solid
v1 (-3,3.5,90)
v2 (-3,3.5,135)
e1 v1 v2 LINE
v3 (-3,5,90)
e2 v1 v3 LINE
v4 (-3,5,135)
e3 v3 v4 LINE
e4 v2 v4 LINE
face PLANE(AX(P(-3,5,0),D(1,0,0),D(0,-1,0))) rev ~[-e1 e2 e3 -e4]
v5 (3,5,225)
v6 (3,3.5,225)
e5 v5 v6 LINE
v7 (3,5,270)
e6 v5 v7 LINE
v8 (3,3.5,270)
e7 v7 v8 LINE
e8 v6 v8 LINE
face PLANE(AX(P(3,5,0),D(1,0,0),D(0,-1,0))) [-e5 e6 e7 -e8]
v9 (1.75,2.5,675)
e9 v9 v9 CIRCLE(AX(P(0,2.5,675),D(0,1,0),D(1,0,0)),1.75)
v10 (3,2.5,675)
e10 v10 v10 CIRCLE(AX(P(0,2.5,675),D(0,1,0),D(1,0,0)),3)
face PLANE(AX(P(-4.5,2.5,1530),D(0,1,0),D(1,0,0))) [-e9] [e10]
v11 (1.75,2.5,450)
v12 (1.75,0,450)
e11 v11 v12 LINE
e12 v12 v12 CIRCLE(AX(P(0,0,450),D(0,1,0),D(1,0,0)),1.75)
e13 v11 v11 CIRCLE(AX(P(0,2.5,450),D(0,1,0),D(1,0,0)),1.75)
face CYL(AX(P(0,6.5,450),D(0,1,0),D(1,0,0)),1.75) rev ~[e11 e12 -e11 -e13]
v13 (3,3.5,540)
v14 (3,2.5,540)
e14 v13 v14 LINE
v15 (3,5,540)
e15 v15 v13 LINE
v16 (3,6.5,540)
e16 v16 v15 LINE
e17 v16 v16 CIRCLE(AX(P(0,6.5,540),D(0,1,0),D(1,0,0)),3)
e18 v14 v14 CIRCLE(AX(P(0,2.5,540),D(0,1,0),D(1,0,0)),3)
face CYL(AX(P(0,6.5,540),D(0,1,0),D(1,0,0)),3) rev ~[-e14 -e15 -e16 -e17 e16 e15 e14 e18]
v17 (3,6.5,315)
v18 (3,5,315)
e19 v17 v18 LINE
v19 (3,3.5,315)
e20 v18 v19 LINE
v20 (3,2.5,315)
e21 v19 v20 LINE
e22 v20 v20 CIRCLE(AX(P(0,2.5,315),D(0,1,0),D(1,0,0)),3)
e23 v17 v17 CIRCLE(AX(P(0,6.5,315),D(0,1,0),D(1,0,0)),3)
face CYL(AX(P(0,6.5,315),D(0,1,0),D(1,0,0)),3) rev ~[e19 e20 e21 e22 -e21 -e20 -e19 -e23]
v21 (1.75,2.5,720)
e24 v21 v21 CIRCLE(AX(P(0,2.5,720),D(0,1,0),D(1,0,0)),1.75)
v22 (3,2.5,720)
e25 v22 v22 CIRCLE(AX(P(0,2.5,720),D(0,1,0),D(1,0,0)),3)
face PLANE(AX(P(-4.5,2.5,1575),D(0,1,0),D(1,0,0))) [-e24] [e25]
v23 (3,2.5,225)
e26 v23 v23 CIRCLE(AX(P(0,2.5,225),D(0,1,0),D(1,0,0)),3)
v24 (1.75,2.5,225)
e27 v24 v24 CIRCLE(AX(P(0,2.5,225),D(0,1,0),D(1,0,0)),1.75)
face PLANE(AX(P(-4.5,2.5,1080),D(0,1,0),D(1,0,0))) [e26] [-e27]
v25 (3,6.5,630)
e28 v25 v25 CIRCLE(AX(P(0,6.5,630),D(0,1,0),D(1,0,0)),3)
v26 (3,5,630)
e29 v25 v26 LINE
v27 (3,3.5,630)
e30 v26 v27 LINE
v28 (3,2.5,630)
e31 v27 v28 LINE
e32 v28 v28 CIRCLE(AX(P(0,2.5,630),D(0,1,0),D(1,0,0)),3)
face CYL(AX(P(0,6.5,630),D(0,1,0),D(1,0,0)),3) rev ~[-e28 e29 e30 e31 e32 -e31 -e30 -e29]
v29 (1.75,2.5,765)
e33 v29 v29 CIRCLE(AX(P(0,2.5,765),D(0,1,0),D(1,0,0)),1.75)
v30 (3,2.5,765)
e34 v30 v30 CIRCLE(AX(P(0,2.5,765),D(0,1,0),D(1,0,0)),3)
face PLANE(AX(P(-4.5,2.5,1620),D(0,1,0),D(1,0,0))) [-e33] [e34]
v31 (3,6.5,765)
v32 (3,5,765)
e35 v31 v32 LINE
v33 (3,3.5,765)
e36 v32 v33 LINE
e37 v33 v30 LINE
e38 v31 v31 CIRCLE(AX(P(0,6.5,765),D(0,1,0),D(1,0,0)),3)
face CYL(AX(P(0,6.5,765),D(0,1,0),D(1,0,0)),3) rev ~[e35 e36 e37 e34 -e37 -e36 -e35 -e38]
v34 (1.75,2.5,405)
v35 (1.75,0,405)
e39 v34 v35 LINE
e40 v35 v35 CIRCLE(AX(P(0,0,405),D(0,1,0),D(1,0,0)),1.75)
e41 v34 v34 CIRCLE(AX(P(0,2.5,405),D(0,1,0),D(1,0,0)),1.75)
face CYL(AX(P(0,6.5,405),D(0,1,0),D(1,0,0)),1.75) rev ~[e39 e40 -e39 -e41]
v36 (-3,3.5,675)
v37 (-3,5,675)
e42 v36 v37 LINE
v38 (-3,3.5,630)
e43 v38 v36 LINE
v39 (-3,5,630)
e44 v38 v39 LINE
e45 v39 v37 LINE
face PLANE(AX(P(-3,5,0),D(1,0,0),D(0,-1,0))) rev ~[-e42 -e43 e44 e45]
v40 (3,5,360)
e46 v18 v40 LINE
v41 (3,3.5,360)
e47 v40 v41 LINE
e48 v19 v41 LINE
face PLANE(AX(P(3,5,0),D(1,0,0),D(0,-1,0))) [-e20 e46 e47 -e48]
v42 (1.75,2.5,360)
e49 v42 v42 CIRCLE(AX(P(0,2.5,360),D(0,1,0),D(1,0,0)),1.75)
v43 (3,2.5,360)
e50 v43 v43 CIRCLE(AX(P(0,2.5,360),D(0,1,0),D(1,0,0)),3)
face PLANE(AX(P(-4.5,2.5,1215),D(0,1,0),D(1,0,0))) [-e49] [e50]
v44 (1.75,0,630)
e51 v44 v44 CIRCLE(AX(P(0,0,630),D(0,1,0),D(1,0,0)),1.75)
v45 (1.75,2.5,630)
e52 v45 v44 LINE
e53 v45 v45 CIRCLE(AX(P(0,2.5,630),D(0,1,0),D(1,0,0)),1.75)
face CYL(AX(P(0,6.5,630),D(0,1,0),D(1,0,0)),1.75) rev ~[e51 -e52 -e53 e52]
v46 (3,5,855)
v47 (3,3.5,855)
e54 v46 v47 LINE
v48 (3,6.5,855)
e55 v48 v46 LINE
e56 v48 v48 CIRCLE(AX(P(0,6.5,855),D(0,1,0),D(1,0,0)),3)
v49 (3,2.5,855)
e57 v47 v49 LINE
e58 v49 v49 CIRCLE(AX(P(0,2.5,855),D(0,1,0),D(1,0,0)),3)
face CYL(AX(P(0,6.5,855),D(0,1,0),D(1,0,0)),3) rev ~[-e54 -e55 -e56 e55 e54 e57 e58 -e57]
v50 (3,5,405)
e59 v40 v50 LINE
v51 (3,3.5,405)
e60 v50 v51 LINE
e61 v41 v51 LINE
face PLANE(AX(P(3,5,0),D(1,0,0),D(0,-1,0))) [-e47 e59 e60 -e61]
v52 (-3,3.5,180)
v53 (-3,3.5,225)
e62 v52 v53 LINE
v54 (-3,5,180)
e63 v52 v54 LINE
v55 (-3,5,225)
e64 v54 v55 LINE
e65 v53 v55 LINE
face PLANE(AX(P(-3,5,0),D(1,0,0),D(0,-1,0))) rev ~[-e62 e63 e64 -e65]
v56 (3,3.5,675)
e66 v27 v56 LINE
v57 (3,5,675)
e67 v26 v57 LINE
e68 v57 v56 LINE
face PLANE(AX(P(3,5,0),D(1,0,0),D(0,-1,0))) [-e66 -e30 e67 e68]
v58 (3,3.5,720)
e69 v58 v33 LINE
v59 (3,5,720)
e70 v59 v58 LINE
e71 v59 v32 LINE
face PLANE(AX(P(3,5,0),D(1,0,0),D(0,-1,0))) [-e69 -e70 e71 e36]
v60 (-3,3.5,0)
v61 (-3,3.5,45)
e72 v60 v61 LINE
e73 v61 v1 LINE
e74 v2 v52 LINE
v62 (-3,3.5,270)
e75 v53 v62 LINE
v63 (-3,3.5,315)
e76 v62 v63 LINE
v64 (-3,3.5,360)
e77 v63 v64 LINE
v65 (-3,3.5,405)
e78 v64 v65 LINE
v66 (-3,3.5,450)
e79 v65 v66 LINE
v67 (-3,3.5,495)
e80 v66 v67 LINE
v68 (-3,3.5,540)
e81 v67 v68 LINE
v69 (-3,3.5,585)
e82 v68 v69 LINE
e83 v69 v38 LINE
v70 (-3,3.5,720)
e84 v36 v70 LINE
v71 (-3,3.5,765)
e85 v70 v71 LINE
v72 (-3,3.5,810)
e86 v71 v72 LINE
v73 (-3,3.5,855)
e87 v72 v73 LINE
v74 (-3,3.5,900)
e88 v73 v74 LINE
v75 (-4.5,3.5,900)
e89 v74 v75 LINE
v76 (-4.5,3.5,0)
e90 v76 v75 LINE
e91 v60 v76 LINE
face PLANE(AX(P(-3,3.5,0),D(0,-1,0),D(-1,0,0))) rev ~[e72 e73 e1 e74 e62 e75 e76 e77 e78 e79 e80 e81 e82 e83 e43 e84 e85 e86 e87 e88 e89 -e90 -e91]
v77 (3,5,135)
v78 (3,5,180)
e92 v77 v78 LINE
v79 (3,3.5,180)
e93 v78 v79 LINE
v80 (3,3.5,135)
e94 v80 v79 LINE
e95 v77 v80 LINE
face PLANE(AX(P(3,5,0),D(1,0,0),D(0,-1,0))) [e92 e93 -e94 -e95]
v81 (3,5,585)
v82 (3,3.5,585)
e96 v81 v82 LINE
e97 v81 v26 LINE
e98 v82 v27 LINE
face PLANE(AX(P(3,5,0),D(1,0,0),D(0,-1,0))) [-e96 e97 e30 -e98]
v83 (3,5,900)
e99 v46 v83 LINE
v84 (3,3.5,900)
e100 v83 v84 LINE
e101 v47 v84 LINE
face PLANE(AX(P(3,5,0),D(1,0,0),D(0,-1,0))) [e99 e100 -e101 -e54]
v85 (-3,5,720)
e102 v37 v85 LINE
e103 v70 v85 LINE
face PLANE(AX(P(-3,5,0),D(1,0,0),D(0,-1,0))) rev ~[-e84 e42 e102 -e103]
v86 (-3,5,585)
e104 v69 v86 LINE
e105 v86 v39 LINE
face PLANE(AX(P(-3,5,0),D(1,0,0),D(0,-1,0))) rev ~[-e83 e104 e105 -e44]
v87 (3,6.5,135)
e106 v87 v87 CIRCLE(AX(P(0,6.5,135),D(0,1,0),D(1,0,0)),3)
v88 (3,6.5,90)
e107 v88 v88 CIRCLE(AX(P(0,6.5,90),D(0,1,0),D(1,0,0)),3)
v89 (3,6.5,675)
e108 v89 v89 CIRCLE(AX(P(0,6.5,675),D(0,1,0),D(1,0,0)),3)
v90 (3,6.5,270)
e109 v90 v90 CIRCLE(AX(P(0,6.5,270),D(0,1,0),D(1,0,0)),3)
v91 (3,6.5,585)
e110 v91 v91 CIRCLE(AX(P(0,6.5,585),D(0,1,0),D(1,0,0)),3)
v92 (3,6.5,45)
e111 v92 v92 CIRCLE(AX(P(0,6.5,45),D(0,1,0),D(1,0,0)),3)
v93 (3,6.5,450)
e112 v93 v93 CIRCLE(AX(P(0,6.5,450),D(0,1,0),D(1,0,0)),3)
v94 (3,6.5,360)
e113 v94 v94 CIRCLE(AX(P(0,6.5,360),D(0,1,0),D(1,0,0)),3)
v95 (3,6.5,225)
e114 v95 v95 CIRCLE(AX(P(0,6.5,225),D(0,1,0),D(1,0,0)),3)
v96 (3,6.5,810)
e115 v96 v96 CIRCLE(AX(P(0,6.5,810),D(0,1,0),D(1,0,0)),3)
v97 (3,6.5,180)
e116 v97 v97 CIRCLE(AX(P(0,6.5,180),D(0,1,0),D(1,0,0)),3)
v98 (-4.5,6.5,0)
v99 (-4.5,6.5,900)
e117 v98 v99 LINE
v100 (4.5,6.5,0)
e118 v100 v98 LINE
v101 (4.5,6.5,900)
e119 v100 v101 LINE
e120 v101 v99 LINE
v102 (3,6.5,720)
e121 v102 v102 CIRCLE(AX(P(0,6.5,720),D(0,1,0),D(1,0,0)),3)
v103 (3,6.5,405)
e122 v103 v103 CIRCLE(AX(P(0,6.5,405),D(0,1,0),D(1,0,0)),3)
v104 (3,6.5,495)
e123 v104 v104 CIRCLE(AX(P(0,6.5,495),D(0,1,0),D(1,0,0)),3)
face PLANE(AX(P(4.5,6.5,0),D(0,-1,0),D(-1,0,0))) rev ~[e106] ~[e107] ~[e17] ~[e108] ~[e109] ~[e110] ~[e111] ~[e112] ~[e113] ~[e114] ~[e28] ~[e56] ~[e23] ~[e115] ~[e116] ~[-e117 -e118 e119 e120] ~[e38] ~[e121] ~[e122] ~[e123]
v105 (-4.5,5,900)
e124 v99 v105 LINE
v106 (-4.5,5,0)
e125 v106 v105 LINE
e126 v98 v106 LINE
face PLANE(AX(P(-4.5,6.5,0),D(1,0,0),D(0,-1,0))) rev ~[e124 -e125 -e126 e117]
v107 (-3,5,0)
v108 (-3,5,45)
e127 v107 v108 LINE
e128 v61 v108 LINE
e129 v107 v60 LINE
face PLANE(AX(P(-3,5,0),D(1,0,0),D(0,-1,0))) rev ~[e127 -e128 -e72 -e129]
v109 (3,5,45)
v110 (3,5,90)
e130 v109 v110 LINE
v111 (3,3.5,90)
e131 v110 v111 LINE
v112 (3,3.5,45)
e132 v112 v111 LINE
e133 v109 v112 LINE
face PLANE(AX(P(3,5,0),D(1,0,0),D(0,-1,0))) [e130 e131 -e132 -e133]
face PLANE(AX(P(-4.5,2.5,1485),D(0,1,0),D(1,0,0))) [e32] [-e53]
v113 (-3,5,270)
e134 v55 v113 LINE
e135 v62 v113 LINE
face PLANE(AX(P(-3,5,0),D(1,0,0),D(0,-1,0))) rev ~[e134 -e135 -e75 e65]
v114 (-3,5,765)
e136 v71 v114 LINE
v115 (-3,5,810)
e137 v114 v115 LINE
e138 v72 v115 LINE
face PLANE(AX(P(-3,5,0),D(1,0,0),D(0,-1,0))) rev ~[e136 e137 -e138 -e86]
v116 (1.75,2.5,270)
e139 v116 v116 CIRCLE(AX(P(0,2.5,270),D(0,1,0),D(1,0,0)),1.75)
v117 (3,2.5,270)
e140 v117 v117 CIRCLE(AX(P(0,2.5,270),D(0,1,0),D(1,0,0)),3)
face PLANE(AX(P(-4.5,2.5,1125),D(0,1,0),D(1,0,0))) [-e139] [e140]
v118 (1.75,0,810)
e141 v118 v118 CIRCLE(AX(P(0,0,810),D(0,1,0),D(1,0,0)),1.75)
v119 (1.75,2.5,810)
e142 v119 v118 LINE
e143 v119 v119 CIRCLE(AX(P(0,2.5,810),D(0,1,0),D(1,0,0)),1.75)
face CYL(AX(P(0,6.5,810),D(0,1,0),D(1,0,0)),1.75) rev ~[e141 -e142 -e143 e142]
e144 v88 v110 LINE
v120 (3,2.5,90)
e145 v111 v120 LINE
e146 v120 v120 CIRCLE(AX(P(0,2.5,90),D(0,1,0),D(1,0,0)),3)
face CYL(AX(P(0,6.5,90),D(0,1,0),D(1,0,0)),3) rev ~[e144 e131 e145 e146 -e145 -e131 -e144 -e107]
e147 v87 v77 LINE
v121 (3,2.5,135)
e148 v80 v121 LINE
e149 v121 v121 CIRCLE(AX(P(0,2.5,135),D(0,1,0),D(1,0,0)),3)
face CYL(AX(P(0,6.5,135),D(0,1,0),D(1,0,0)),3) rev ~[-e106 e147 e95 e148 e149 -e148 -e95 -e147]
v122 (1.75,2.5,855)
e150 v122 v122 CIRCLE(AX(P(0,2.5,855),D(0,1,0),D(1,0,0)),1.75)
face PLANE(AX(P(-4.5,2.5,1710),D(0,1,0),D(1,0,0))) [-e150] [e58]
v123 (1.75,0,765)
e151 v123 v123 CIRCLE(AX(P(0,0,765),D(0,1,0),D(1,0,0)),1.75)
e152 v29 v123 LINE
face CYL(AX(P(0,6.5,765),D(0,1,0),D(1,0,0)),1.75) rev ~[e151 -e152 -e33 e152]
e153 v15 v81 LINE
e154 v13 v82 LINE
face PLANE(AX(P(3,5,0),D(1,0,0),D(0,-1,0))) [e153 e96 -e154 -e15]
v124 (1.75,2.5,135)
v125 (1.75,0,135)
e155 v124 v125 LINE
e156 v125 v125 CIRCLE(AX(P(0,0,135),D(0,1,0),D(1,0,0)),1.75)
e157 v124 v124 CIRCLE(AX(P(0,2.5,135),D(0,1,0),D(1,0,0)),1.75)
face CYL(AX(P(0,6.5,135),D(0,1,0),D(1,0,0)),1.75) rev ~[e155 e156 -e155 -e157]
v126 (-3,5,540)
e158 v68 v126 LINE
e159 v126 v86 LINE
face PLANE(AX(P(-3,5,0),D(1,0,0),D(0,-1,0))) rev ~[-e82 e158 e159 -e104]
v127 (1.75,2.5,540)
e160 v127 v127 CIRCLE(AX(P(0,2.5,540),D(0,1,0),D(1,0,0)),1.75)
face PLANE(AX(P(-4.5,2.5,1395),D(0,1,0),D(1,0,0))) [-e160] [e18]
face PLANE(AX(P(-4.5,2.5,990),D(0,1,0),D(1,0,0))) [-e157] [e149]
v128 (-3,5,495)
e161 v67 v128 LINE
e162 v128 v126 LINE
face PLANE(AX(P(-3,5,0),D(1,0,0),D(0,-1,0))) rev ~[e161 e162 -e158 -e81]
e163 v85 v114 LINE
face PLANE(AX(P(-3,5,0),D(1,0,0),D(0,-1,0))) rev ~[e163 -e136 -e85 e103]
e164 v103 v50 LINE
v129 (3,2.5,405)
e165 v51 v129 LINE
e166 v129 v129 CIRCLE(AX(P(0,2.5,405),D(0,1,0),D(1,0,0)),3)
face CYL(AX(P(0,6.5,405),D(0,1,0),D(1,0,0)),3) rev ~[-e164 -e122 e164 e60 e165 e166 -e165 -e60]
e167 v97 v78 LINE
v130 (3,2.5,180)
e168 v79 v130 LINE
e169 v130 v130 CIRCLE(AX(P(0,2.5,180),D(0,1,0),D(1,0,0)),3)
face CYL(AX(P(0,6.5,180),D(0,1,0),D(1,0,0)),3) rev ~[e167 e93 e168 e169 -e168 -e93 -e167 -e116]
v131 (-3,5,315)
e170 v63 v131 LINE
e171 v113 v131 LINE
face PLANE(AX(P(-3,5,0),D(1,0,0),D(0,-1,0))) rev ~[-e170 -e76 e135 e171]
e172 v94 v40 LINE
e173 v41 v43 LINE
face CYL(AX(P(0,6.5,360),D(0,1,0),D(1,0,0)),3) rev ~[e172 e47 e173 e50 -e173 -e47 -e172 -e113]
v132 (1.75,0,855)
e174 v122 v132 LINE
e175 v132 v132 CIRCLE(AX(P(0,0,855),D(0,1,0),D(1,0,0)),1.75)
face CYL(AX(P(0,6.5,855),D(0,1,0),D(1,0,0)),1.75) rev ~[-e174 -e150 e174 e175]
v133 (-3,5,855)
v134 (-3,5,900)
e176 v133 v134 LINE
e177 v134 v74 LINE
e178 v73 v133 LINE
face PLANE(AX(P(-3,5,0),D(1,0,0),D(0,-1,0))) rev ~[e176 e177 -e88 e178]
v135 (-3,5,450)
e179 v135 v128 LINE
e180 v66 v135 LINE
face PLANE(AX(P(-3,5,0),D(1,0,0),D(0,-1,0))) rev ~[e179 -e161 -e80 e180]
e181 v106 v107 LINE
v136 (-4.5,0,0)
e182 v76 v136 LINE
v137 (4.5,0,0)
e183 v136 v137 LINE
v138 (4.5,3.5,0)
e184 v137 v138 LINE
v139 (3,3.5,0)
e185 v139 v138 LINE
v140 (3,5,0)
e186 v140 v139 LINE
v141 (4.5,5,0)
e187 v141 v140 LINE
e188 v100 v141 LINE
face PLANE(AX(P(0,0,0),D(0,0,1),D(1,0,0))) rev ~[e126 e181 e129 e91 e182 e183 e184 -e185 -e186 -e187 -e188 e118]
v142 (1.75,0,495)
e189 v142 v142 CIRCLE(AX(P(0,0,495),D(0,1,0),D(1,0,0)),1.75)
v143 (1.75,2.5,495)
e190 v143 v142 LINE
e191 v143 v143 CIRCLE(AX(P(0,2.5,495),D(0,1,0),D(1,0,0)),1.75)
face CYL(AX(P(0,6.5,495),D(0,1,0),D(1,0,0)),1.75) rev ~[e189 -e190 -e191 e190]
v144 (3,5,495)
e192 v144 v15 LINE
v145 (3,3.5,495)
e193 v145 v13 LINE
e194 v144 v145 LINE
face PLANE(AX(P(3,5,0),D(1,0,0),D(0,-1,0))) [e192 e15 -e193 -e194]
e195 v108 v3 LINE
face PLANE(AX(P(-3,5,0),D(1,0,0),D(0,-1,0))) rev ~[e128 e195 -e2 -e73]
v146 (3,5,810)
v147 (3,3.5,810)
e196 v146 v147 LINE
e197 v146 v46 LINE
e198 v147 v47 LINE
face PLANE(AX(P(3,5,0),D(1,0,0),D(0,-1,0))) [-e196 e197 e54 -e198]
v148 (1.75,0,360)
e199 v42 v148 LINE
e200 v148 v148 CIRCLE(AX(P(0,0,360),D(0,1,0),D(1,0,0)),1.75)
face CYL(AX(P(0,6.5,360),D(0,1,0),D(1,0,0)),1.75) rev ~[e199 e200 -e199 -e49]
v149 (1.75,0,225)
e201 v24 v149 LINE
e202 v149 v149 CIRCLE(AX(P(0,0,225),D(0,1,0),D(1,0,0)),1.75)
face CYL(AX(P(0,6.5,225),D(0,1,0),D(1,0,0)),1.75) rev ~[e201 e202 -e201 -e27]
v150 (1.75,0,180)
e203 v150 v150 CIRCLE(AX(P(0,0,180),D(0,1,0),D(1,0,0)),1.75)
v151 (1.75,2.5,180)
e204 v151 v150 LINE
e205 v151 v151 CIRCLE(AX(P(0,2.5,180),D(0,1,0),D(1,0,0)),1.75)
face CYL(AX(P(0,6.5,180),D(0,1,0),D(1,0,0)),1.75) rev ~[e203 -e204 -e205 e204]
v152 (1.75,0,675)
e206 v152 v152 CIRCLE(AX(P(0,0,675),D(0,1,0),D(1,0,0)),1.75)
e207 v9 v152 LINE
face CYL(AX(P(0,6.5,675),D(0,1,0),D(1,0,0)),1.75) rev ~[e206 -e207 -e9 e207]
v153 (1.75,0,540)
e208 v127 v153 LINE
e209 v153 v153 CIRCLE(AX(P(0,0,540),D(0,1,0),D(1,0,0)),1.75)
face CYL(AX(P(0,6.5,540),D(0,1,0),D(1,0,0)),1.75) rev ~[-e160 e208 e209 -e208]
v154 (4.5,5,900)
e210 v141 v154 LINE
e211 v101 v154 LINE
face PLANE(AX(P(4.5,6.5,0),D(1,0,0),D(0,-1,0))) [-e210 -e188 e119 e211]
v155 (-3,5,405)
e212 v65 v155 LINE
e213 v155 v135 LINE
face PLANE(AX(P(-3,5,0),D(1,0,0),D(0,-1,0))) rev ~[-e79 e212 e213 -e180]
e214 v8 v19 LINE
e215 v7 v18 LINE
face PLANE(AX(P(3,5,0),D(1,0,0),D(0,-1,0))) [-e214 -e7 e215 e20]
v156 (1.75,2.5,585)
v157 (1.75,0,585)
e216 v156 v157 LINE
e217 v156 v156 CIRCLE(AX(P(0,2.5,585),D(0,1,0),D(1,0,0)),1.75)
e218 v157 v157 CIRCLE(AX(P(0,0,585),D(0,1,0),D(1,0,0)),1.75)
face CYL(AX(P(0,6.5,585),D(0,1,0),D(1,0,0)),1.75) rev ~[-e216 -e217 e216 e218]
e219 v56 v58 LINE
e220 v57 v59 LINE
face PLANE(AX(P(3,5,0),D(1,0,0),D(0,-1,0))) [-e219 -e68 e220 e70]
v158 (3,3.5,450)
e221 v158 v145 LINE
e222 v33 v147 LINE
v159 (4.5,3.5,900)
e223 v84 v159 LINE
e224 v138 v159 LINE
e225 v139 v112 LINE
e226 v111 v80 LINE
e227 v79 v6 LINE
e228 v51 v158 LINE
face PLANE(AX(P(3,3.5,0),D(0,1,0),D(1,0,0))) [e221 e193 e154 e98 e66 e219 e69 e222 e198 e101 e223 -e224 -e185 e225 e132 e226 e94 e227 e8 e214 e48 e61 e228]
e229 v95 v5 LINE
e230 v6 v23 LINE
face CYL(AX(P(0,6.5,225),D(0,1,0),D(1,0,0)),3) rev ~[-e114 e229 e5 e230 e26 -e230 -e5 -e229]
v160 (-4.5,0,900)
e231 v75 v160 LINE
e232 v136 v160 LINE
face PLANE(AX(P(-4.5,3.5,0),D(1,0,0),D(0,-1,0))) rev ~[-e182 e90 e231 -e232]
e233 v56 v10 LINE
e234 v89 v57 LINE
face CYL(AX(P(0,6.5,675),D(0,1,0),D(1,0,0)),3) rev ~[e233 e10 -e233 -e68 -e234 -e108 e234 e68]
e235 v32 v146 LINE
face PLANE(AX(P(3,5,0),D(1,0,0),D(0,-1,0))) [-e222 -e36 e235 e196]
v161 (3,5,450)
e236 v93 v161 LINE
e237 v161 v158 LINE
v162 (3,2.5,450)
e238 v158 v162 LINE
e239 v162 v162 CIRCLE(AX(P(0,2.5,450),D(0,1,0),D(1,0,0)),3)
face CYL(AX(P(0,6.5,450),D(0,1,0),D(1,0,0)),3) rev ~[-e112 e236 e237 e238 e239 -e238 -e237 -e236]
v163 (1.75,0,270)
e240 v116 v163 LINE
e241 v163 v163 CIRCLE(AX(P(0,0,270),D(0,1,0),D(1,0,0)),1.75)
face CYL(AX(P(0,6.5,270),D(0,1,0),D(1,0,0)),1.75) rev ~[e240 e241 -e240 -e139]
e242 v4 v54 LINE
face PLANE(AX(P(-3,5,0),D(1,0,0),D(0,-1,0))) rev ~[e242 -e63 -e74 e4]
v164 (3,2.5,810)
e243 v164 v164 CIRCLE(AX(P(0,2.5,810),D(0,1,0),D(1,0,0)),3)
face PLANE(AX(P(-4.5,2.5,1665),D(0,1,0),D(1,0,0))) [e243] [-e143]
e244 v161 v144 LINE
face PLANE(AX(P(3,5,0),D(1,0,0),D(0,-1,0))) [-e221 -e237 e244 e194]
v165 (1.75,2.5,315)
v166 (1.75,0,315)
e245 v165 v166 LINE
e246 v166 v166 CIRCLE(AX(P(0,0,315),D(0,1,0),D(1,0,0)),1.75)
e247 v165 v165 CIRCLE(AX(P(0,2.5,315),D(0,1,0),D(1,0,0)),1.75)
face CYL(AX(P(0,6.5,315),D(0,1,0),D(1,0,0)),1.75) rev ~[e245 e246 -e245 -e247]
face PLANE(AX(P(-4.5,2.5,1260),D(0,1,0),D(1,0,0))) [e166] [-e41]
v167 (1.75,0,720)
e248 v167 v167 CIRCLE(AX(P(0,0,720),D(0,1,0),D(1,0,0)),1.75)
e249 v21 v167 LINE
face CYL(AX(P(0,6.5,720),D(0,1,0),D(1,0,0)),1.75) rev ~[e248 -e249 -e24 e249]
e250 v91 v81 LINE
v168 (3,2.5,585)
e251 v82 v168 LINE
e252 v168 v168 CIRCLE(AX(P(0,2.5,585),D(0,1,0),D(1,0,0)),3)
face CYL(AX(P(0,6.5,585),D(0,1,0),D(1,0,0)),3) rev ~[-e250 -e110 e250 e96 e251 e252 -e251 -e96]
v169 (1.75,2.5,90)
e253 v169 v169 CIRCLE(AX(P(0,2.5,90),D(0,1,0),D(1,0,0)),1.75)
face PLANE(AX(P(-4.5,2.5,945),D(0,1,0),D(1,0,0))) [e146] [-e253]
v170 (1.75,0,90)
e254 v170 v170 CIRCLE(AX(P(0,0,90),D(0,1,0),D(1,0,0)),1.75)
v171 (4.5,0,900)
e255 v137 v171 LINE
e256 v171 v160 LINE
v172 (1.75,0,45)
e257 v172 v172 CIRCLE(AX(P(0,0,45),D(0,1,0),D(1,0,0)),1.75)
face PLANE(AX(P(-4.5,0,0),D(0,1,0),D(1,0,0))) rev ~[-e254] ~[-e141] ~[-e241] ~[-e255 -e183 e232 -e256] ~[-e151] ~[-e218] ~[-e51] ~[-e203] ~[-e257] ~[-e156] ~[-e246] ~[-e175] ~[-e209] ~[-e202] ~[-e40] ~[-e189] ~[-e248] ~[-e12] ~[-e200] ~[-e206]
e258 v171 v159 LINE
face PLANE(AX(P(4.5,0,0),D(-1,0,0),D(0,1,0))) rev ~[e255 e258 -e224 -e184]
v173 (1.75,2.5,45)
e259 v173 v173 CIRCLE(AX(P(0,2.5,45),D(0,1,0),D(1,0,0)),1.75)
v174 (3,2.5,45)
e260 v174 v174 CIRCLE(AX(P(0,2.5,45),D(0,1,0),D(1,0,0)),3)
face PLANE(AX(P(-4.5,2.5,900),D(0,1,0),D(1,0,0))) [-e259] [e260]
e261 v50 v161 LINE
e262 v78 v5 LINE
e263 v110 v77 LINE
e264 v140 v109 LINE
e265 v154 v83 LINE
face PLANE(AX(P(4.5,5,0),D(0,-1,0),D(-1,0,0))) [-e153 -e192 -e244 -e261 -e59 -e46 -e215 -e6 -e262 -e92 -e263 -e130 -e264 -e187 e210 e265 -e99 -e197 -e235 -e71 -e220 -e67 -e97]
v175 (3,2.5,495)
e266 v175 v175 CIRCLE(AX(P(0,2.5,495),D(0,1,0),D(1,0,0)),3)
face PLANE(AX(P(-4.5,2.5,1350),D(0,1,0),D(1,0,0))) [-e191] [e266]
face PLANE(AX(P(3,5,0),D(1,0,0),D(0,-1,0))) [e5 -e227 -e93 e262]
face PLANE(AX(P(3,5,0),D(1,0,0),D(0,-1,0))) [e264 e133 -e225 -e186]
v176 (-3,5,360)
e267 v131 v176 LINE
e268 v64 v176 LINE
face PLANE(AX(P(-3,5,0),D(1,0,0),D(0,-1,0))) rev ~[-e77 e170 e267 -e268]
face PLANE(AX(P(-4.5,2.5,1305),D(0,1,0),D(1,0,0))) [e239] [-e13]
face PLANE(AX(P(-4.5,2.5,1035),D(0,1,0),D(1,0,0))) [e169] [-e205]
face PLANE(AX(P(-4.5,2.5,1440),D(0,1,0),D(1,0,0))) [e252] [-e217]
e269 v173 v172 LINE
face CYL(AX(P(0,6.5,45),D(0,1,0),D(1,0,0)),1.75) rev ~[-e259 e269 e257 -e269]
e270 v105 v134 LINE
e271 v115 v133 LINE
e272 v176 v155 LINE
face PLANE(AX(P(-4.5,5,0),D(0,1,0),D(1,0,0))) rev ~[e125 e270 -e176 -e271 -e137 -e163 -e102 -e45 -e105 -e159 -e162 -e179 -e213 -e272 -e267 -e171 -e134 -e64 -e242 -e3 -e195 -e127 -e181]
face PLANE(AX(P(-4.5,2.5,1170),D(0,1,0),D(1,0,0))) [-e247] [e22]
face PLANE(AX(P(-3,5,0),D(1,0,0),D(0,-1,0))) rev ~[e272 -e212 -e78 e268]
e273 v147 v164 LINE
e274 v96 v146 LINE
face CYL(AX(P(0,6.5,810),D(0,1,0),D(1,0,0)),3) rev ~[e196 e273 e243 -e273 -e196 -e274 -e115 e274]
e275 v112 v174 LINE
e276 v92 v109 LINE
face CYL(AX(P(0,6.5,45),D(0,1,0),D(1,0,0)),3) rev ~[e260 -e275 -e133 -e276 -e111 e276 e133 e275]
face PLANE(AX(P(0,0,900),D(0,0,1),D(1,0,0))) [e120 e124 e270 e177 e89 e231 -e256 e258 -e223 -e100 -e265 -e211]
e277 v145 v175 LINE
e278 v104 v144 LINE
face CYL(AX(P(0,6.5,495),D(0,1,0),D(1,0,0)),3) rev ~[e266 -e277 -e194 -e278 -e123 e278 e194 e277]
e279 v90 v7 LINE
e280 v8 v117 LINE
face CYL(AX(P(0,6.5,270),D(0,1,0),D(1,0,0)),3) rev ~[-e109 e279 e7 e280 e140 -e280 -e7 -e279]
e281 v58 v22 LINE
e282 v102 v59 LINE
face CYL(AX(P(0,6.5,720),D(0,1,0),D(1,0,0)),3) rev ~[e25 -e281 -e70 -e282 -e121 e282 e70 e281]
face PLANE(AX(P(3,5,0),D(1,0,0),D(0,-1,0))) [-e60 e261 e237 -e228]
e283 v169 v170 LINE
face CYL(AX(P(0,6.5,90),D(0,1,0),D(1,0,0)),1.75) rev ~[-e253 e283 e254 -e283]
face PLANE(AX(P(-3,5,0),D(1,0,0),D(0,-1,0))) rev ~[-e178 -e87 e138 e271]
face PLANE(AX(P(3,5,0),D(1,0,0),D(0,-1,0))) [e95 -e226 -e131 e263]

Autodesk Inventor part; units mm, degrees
ref_plane "YZ Plane" through (0, 0, 0) normal (1, 0, 0) x (0, 1, 0)
ref_plane "XZ Plane" through (0, 0, 0) normal (0, 1, 0) x (-1, 0, 0)
ref_plane "XY Plane" through (0, 0, 0) normal (0, 0, 1) x (1, 0, 0)
sketch "Szkic1" plane through (0, 0, 0) normal (0, 0, 1) x (1, 0, 0)
  line L0 (0, 0) -> (4.5, 0)
  line L1 (4.5, 6.5) -> (-4.5, 6.5)
  line L2 (-4.5, 0) -> (4.5, 0)
  line L3 (4.5, 6.5) -> (4.5, 5)
  line L4 (4.5, 5) -> (3, 5)
  line L5 (3, 5) -> (3, 3.5)
  line L6 (3, 3.5) -> (4.5, 3.5)
  line L7 (-4.5, 6.5) -> (-4.5, 5)
  line L8 (-4.5, 5) -> (-3, 5)
  line L9 (-3, 5) -> (-3, 3.5)
  line L10 (-3, 3.5) -> (-4.5, 3.5)
  line L11 (-4.5, 6.5) -> (-4.5, 5)
  line L12 (-4.5, 3.5) -> (-4.5, 0)
  line L13 (4.5, 0) -> (4.5, 3.5)
  line L14 (4.5, 5) -> (4.5, 6.5)
  dimension "d1" = 6.5
  dimension "d2" = 9
  dimension "d3" = 1.5
  dimension "d4" = 1.5
  dimension "d5" = 1.5
  dimension "d6" = 1.5
  dimension "d7" = 1.5
  dimension "d8" = 1.5
extrude "Wyciągnięcie proste1" add sketch "Szkic1" along normal blind 900
sketch "Szkic2" plane through (-4.5, 6.5, 900) normal (0, 1, 0) x (1, 0, 0)
  line L0 (9, 900) -> (0, 900) projected
  line L1 (0, 900) -> (0, 0) projected
  line L2 (9, 0) -> (0, 0) projected
  line L3 (9, 900) -> (9, 0) projected
  line L4 (0, 0) -> (4.5, 0)
  line L5 (9, 0) -> (0, 0) projected
  line L6 (4.5, 0) -> (4.5, 900)
  line L7 (4.5, 900) -> (4.5, 855)
  circle A0 centre (4.5, 855) radius 1.75
  dimension "d11" = 4.5
  dimension "d12" = 45
  dimension "d13" = 3.5
extrude "Wyciągnięcie proste2" cut sketch "Szkic2" against normal up to next contours A0 L6 | L6 A0
sketch "Szkic3" plane through (-4.5, 6.5, 900) normal (0, 1, 0) x (1, 0, 0)
  circle A0 centre (4.5, 855) radius 1.75 projected
  circle A1 centre (4.5, 855) radius 3
  point P0 (4.5, 900)
  dimension "d16" = 6
extrude "Wyciągnięcie proste3" cut sketch "Szkic3" against normal blind 4
pattern_linear "Szyk prostokątny1" count 19 spacing 45 along (0, 0, 1) of "Wyciągnięcie proste3"
pattern_linear "Szyk prostokątny2" count 19 spacing 45 along (0, 0, 1) of "Wyciągnięcie proste2"
properties part number "Prowadnica liniowa MGN9R 900mm"
